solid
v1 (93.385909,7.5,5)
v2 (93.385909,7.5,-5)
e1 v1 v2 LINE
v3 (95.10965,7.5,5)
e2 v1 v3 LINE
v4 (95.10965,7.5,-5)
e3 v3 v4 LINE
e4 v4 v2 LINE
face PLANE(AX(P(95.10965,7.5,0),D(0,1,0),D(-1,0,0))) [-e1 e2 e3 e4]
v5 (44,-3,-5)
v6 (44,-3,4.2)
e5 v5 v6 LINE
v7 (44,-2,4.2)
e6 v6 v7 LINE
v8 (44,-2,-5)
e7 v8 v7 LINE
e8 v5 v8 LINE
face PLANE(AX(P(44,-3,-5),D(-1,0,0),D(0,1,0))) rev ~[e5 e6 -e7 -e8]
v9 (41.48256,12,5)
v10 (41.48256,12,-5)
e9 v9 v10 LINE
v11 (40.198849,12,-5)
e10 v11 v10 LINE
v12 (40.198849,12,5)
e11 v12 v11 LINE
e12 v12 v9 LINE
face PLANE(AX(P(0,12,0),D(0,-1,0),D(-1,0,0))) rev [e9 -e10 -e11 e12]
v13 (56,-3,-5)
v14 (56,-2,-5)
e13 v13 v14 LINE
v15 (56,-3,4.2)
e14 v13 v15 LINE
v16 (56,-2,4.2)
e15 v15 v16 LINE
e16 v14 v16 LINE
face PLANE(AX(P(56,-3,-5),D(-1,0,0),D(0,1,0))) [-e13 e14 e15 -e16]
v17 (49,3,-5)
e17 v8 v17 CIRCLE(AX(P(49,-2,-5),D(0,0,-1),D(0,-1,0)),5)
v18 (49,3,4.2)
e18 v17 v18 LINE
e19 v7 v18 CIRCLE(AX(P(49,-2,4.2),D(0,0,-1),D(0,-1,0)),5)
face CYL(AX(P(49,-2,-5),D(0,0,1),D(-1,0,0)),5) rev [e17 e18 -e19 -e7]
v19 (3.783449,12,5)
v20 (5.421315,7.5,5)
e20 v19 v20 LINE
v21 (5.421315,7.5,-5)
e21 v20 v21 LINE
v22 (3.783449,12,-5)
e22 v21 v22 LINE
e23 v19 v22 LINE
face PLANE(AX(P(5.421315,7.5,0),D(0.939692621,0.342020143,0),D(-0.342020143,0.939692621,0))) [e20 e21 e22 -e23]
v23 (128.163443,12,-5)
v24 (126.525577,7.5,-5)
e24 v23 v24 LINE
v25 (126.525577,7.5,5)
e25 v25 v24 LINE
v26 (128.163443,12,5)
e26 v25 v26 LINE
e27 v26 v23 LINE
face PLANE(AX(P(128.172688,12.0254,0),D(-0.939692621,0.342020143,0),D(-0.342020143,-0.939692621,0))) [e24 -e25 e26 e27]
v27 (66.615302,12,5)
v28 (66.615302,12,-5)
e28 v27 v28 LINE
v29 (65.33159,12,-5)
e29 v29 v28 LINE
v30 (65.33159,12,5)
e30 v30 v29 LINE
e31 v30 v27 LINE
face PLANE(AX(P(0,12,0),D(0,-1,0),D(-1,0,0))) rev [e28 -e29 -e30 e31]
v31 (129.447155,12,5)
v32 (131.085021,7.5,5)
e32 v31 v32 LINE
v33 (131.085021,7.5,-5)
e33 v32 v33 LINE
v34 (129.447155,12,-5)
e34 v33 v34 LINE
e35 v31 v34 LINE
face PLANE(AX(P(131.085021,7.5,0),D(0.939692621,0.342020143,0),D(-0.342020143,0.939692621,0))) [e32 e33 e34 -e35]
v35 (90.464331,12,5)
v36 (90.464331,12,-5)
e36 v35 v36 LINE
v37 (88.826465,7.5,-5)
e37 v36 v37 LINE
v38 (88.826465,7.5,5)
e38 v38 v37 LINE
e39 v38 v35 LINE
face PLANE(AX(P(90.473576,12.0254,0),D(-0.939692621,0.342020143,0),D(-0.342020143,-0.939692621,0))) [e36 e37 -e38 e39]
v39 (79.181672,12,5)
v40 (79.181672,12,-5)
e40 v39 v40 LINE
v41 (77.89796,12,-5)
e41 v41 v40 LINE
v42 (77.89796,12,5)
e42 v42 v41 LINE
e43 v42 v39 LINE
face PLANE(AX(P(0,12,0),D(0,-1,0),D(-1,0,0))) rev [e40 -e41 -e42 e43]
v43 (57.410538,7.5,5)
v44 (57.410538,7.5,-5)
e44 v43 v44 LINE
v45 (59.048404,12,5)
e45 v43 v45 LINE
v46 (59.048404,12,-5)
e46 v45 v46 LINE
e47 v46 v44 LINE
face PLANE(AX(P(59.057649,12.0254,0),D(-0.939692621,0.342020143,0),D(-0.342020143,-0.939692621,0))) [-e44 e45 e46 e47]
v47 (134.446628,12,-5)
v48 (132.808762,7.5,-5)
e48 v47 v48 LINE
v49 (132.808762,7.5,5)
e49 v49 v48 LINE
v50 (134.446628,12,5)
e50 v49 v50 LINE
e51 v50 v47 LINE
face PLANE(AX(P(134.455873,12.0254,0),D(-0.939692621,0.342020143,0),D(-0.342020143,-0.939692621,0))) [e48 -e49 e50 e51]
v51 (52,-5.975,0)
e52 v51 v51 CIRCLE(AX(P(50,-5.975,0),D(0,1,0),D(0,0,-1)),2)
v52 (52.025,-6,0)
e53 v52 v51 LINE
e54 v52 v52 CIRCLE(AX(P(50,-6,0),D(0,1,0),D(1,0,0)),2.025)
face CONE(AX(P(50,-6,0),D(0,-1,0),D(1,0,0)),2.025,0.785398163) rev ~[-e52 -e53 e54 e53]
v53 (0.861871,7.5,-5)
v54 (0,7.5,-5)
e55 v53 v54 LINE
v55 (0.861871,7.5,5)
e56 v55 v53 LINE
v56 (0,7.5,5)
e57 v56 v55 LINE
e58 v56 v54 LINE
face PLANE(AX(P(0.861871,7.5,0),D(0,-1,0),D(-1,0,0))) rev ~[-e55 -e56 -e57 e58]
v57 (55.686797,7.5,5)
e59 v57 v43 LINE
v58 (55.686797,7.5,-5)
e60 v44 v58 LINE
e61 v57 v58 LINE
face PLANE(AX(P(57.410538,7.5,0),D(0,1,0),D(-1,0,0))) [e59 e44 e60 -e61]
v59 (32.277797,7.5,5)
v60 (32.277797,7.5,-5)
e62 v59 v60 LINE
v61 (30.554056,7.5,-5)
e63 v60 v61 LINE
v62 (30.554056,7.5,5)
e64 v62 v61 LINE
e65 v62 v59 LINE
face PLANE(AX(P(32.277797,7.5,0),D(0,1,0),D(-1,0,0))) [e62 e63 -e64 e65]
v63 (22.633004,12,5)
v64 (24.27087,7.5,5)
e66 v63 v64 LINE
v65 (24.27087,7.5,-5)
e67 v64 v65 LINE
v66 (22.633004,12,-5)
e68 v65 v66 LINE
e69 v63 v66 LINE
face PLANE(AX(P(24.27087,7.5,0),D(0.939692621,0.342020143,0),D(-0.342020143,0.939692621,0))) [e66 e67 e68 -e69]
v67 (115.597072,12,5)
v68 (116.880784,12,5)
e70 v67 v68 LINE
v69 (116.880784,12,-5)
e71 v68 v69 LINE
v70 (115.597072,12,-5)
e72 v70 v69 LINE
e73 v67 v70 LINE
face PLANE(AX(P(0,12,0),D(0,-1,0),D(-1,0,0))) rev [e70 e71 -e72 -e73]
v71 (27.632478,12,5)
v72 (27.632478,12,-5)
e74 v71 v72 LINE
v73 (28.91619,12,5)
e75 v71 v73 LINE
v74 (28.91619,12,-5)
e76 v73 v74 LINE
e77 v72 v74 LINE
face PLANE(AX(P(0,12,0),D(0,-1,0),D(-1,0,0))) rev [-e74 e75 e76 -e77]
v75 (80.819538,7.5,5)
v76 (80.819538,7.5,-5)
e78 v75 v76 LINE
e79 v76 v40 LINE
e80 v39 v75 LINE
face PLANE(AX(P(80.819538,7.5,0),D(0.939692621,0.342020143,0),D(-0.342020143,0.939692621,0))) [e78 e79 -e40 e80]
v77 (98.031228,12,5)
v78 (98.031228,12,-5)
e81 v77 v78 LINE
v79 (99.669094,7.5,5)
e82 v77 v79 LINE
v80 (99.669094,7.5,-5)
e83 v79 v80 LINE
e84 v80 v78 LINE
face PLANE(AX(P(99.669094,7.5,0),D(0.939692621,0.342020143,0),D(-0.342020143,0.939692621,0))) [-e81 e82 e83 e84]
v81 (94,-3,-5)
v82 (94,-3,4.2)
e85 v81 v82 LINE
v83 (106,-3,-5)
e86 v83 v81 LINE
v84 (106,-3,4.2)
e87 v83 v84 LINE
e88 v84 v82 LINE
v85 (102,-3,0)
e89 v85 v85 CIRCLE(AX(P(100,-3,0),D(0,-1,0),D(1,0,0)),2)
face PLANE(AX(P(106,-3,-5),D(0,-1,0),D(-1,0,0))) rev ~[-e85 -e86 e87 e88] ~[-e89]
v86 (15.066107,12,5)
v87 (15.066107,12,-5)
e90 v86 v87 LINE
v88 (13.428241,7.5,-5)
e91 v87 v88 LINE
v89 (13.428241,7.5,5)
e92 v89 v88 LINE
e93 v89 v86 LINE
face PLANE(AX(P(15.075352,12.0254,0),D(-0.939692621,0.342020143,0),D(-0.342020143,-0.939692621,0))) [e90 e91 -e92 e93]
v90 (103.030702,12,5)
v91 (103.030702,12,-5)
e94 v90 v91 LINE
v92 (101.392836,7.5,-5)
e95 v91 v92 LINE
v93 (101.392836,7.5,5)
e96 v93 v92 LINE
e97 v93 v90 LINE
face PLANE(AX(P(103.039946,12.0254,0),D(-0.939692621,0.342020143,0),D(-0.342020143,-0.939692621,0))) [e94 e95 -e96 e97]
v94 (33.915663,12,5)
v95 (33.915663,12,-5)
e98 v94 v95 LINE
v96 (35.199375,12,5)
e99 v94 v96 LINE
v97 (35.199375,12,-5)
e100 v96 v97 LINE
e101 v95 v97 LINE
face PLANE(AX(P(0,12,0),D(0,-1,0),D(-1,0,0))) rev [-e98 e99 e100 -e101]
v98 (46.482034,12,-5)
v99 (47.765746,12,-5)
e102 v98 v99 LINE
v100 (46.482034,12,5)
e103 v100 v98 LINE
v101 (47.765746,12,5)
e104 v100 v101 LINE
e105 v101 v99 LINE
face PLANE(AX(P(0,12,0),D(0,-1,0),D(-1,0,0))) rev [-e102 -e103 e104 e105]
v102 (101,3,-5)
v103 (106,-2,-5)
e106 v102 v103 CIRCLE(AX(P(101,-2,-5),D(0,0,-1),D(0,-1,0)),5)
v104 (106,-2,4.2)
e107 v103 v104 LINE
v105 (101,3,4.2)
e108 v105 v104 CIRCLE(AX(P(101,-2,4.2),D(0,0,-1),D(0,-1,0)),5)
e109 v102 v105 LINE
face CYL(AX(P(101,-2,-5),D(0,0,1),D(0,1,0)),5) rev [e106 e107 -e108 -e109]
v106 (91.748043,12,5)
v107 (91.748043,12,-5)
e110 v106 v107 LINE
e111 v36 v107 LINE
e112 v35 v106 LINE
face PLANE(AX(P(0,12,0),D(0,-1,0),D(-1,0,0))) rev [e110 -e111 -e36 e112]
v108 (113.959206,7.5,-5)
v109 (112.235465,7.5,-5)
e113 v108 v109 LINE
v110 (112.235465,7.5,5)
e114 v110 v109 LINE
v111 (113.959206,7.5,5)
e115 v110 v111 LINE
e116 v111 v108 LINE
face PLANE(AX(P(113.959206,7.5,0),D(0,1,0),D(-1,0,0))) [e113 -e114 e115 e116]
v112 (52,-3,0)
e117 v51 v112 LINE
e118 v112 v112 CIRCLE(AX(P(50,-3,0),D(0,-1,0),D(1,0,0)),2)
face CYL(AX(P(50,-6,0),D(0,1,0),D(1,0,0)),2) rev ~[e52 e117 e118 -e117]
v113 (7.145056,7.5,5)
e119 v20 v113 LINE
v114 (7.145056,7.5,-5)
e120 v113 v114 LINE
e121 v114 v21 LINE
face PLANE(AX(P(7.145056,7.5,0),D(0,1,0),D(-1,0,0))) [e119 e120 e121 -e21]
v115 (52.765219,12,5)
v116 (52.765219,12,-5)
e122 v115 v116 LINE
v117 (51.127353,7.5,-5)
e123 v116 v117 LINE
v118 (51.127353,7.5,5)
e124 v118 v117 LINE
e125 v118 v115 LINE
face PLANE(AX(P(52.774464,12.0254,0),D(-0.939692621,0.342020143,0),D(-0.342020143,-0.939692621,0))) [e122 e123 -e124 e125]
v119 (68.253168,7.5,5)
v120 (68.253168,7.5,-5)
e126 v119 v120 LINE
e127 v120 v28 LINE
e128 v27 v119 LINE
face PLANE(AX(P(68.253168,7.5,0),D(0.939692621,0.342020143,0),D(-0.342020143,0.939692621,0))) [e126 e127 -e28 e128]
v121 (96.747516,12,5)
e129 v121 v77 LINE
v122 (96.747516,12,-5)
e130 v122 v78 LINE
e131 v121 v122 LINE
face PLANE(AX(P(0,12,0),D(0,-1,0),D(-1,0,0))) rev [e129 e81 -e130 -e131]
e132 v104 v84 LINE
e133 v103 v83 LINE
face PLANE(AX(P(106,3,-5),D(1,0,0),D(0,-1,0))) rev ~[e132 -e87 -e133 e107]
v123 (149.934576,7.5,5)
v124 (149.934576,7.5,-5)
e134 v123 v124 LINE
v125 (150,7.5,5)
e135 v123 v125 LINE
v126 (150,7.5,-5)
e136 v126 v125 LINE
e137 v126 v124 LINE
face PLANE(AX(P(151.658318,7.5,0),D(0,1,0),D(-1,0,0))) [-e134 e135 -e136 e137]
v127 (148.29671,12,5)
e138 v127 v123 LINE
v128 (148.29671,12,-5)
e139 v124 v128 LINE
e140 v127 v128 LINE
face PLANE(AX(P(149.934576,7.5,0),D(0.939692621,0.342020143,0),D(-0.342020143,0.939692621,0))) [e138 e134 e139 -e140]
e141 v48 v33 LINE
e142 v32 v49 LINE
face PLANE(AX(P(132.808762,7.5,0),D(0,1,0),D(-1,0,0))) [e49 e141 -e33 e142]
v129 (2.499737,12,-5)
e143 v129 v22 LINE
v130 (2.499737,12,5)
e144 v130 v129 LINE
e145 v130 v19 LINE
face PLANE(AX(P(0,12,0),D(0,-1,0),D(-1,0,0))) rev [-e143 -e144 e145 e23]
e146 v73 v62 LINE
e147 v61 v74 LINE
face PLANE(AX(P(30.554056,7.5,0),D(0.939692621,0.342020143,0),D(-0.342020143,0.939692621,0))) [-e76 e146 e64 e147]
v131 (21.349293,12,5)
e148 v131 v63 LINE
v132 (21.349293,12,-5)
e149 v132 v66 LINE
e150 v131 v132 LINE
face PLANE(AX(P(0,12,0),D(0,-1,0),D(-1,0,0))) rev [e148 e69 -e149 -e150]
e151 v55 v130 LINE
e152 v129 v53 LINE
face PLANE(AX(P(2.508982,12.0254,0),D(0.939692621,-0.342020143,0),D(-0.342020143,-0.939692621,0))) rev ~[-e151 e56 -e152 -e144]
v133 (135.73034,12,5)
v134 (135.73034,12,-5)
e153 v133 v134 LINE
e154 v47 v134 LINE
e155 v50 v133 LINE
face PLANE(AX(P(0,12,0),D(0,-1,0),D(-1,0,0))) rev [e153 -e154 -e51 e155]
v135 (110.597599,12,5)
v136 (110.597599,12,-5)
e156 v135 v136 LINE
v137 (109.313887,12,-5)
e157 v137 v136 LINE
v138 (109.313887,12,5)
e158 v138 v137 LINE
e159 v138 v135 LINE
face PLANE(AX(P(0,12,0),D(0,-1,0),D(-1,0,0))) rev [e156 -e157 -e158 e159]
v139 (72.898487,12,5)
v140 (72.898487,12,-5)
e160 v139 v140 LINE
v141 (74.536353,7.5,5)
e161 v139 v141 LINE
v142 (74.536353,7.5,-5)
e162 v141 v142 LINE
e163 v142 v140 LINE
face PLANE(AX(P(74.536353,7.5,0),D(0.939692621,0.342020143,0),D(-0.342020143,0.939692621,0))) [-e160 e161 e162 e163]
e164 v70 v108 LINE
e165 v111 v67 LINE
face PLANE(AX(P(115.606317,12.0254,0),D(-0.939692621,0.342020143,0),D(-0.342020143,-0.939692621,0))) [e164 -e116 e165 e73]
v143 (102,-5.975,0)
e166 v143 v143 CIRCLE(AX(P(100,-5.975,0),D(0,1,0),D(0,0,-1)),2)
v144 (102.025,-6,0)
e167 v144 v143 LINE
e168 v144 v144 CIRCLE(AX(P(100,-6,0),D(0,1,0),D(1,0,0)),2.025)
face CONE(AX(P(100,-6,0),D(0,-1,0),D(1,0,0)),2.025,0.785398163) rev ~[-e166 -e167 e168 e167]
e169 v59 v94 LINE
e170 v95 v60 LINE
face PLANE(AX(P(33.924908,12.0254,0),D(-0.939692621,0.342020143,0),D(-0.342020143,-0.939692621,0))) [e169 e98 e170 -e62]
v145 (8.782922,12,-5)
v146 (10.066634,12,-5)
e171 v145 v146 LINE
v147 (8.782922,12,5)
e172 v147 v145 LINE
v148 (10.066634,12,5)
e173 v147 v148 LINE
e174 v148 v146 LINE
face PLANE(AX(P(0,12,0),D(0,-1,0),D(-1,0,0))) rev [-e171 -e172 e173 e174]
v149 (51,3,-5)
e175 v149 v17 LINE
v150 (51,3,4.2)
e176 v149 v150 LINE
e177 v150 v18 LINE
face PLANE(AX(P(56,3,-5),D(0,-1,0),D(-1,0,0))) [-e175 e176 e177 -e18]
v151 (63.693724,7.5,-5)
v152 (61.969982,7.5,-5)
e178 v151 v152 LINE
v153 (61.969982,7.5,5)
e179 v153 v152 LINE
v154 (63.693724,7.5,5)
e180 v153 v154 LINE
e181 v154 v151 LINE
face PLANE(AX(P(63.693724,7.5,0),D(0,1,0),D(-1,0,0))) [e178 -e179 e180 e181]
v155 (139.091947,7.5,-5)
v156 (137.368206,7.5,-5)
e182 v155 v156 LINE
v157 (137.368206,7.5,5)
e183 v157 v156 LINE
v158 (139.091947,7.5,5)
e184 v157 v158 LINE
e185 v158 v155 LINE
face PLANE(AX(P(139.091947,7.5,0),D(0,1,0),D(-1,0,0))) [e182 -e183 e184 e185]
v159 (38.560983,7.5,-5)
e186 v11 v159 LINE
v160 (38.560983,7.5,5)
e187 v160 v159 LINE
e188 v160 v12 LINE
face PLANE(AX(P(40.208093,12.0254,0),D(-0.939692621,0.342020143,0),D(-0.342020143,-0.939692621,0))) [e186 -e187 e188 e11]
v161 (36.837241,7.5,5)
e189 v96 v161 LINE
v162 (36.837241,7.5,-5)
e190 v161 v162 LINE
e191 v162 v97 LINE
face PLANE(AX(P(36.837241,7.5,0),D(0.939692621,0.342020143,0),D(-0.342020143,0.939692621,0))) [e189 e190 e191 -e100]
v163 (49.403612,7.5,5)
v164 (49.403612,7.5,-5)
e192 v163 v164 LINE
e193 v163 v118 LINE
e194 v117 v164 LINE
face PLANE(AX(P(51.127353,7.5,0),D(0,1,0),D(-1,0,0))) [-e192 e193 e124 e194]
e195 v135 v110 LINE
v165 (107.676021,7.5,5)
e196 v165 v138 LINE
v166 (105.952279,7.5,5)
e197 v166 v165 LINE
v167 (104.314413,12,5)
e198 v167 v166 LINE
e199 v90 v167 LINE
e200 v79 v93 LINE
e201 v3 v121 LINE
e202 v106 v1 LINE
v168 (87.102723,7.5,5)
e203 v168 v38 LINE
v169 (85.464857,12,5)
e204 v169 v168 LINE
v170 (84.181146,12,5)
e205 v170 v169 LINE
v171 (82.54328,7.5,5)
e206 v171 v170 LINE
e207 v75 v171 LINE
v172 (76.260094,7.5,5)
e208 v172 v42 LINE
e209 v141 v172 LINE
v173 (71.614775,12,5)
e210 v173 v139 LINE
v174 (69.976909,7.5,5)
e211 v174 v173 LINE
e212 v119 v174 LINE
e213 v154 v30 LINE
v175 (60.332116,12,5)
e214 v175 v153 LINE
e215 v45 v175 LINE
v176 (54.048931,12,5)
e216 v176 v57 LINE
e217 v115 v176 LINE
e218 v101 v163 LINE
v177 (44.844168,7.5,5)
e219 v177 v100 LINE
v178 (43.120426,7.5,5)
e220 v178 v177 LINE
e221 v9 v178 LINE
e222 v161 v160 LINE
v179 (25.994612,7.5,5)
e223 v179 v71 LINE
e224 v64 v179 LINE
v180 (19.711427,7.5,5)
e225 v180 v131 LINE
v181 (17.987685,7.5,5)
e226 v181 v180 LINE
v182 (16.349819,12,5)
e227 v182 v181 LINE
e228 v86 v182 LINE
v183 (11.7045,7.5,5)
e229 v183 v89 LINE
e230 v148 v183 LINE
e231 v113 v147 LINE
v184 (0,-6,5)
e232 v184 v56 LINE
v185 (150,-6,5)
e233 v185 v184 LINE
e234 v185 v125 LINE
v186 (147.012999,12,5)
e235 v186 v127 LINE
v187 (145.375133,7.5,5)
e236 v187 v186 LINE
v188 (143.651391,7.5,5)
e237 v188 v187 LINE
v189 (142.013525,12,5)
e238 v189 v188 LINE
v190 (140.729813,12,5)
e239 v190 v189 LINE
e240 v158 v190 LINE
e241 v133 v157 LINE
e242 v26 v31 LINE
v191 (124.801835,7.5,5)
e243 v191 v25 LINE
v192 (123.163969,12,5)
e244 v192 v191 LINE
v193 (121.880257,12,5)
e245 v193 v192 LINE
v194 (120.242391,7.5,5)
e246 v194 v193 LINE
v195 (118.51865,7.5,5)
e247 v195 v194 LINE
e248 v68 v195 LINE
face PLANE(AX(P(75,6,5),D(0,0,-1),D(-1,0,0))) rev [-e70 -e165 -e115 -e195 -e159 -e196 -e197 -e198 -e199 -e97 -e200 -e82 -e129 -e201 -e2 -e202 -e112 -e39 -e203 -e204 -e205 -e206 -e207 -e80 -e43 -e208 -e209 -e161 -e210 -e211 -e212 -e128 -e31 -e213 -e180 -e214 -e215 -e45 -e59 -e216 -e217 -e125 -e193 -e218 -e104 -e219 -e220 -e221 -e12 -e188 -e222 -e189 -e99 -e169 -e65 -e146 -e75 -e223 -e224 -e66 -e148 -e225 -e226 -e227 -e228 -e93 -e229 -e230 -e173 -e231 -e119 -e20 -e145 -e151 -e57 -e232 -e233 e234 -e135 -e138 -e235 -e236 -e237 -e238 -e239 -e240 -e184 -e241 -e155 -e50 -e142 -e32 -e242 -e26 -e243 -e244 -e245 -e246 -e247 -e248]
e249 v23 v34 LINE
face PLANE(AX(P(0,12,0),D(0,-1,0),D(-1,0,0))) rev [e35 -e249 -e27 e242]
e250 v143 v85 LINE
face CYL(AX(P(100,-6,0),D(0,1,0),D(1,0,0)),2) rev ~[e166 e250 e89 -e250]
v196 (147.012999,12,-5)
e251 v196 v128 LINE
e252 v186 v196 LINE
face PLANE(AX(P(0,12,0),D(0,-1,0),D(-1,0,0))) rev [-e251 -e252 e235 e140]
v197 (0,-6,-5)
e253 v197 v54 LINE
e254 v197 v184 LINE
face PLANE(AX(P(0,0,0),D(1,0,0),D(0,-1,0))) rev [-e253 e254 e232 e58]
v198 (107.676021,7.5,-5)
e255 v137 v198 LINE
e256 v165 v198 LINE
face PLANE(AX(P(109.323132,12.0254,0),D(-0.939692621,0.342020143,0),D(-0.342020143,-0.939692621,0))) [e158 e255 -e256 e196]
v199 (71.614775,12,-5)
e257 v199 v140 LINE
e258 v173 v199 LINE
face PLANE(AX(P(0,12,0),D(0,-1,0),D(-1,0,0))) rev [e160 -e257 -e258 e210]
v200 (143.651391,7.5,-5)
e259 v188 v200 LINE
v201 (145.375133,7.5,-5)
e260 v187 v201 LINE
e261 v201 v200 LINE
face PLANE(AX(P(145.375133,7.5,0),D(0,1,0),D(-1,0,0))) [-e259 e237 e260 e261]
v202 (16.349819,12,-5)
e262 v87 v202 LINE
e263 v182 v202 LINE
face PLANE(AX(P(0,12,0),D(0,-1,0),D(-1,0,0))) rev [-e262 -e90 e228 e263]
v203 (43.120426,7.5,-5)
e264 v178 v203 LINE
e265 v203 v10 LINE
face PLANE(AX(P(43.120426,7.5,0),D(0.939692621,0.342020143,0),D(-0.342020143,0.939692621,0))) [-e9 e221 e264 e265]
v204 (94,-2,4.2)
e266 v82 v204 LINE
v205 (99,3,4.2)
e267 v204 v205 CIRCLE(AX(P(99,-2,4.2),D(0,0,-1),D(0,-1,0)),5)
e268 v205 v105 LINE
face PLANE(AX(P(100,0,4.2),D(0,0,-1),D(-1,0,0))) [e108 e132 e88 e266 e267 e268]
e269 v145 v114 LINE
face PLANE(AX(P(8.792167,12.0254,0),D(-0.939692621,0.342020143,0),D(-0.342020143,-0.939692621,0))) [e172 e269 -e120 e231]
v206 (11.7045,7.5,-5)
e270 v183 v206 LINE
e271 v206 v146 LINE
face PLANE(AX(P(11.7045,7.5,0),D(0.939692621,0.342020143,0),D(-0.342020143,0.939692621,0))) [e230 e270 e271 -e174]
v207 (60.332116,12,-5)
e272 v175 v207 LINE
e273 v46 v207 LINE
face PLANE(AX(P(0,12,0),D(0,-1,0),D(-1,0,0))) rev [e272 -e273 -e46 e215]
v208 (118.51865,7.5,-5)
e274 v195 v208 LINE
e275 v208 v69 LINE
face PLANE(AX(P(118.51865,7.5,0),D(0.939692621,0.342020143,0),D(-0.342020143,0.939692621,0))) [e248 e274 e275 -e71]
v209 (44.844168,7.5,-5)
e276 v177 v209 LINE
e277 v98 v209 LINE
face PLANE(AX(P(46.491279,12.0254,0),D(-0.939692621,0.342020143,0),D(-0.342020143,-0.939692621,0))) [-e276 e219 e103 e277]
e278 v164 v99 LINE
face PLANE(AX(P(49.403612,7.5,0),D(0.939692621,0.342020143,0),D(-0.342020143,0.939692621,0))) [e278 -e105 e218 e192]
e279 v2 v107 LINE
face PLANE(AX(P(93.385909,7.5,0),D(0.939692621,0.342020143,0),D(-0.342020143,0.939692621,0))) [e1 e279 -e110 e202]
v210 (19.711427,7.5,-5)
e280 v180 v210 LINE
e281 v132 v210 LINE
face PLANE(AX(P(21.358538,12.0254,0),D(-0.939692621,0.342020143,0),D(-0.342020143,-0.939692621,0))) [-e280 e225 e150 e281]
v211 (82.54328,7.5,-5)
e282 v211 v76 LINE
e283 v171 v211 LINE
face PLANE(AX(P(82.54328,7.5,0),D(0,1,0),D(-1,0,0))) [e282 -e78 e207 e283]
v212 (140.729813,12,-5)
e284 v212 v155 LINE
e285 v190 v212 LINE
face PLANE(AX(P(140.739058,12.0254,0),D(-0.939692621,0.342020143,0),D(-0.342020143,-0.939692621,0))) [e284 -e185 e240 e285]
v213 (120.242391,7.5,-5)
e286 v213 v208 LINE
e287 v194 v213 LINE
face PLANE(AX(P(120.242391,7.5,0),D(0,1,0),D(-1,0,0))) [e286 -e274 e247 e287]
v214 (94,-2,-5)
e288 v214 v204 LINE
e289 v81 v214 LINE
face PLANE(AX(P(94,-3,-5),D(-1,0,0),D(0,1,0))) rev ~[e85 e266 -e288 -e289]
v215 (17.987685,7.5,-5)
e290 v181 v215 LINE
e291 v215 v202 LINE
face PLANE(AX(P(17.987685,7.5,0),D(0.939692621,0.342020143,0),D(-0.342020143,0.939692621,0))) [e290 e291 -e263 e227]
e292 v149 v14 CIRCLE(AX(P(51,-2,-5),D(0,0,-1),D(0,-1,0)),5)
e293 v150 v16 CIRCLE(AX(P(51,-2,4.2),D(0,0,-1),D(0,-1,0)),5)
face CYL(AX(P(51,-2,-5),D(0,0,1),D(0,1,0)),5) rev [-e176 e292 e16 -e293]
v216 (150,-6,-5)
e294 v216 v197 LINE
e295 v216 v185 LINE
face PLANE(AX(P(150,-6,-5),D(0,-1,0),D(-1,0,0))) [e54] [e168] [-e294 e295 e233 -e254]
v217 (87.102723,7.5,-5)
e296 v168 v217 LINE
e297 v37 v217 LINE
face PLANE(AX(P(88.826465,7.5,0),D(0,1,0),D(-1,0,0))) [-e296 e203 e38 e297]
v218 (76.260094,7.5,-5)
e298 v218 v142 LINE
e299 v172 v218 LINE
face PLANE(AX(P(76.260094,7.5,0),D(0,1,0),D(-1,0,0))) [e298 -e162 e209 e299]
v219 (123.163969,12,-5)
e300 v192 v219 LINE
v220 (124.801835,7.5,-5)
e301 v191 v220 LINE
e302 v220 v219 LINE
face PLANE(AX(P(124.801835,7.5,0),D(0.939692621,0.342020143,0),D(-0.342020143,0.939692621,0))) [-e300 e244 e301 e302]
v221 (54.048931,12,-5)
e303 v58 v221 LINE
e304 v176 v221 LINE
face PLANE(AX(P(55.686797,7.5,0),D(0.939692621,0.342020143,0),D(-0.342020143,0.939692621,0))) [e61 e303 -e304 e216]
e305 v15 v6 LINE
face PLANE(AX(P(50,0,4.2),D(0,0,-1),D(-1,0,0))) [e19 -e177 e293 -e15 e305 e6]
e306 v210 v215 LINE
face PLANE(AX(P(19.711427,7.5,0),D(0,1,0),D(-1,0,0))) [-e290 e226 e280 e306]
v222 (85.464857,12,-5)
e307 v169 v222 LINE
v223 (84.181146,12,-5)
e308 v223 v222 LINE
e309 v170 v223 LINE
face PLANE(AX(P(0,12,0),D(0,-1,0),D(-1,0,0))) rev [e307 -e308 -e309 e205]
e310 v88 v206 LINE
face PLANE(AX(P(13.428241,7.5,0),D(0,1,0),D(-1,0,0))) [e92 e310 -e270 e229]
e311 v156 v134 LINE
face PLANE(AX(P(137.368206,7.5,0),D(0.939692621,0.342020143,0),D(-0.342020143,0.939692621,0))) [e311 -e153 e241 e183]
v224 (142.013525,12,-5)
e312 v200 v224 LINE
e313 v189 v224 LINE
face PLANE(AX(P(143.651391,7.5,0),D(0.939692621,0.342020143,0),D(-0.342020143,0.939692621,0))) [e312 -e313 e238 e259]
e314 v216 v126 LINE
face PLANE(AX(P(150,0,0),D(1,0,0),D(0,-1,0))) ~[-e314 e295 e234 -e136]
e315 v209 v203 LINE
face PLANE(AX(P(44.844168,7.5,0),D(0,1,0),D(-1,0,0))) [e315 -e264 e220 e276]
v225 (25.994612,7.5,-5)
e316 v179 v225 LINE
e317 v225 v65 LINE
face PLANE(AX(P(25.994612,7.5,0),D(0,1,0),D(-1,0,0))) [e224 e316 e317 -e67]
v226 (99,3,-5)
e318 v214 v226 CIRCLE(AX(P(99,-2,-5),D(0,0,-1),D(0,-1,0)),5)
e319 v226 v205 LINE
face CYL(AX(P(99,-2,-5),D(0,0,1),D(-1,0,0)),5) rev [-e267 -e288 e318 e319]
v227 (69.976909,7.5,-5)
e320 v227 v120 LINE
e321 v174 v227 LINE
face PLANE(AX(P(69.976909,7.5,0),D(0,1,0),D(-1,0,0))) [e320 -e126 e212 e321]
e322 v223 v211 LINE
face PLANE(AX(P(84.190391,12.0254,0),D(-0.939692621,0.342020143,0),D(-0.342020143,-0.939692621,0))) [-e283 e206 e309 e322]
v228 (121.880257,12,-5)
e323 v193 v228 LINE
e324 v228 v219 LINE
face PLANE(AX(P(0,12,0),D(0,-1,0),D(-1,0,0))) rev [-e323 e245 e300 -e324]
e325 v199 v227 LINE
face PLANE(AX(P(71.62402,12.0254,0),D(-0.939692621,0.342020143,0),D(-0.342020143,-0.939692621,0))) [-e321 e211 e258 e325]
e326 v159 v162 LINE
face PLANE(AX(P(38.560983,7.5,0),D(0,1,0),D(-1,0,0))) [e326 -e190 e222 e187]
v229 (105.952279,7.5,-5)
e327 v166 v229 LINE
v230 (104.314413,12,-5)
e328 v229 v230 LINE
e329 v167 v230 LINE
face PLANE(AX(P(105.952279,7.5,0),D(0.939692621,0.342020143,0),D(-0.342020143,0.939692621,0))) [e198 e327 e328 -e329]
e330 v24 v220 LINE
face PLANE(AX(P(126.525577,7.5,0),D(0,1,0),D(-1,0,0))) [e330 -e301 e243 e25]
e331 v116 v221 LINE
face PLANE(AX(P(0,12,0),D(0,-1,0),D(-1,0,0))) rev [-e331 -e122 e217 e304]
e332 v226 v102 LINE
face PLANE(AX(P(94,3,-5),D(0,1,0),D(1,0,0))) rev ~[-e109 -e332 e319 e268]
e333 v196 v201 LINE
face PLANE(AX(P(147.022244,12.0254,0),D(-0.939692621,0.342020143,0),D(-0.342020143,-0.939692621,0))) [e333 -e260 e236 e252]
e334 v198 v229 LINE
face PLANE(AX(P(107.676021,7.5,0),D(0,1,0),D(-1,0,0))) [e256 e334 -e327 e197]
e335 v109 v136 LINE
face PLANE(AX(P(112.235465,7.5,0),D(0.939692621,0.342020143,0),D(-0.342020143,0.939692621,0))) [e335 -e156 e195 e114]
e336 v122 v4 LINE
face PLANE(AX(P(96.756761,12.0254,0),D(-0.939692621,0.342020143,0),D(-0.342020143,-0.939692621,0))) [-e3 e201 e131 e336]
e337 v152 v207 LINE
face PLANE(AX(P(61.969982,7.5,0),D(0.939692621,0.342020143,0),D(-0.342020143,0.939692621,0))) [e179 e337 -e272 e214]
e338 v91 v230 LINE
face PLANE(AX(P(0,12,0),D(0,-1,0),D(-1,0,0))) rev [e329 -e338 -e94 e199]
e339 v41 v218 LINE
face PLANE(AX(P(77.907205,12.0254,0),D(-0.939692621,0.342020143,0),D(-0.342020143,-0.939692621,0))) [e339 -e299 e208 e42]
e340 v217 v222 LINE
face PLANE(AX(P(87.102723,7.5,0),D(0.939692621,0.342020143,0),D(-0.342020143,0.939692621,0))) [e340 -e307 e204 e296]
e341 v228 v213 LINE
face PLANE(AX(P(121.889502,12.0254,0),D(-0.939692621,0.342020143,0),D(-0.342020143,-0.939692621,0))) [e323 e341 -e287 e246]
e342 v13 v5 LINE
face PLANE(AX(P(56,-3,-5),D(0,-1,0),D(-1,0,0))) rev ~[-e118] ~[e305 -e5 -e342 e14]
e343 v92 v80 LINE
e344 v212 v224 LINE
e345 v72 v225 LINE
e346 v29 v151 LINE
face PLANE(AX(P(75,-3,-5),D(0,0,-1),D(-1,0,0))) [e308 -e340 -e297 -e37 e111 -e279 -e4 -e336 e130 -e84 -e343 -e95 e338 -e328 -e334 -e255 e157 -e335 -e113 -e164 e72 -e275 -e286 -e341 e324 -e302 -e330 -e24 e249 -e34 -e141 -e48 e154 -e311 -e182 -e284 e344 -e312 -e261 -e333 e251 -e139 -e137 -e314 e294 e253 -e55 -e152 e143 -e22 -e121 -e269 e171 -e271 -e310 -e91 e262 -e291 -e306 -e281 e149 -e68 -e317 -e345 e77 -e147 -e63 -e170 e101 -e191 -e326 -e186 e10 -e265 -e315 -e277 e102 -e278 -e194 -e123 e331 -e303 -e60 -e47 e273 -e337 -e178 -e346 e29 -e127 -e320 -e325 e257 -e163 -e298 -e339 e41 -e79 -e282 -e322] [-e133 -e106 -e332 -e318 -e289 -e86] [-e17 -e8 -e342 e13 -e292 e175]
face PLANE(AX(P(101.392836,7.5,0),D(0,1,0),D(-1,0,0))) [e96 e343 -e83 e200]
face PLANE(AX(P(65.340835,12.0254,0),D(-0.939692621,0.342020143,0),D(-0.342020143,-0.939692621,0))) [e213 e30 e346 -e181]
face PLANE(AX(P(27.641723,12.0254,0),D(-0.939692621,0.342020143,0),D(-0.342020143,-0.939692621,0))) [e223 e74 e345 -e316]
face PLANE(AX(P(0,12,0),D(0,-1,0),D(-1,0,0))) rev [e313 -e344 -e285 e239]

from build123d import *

# Parameters (mm, degrees)
BLANKSKE_W                      = 150
BLANKSKE_H                      = 12
BLANK_DEPTH                     = 5
TOOTHCUTSIM_DEPTH               = 151.562279473
TEETHCUTS_COUNT                 = 25
TEETHCUTS_PITCH                 = 6.2831853
SKETCH1_W                       = 150
SKETCH1_H                       = 6
BOSS_EXTRUDE1_DEPTH             = 10
MIRROR1_COPY_1_DEPTH            = 151.562279473
MIRROR1_COPY_2_DEPTH            = 151.562279473
MIRROR1_COPY_3_DEPTH            = 151.562279473
MIRROR1_COPY_4_DEPTH            = 151.562279473
MIRROR1_COPY_5_DEPTH            = 151.562279473
MIRROR1_COPY_6_DEPTH            = 151.562279473
MIRROR1_COPY_7_DEPTH            = 151.562279473
MIRROR1_COPY_8_DEPTH            = 151.562279473
MIRROR1_COPY_9_DEPTH            = 151.562279473
MIRROR1_COPY_10_DEPTH           = 151.562279473
MIRROR1_COPY_11_DEPTH           = 151.562279473
MIRROR1_COPY_12_DEPTH           = 151.562279473
MIRROR1_COPY_13_DEPTH           = 151.562279473
MIRROR1_COPY_14_DEPTH           = 151.562279473
MIRROR1_COPY_15_DEPTH           = 151.562279473
MIRROR1_COPY_16_DEPTH           = 151.562279473
MIRROR1_COPY_17_DEPTH           = 151.562279473
MIRROR1_COPY_18_DEPTH           = 151.562279473
MIRROR1_COPY_19_DEPTH           = 151.562279473
MIRROR1_COPY_20_DEPTH           = 151.562279473
MIRROR1_COPY_21_DEPTH           = 151.562279473
MIRROR1_COPY_22_DEPTH           = 151.562279473
MIRROR1_COPY_23_DEPTH           = 151.562279473
MIRROR1_COPY_24_DEPTH           = 151.562279473
MIRROR1_COPY_25_DEPTH           = 151.562279473
F_4_0MM_DOWEL_HOLE1_D           = 4
F_4_0MM_DOWEL_HOLE1_DEPTH       = 3
F_4_0MM_DOWEL_HOLE1_CSINK_D     = 4.05
F_4_0MM_DOWEL_HOLE1_CSINK_ANGLE = 90
F_4_0MM_DOWEL_HOLE1_TIP         = 1.201721238
SKETCH7_W                       = 12
SKETCH7_H                       = 6
CUT_EXTRUDE1_DEPTH              = 9.2
FILLET2_R                       = 5
FILLET3_R                       = 5


with BuildPart() as part:
    # BlankSke → Blank (new body)
    with BuildSketch(Plane.XY):
        with Locations((75, 6)):
            Rectangle(BLANKSKE_W, BLANKSKE_H)
    blank = extrude(amount=-BLANK_DEPTH)

    # TooCutSkeSim → ToothCutSim (cut, through all)
    with BuildSketch(Plane.XY):
        Polygon((0.861870739, 7.5), (-0.861870739, 7.5), (-2.508981637, 12.0254), (2.508981637, 12.0254), align=None)
    toothcutsim = extrude(amount=-TOOTHCUTSIM_DEPTH, mode=Mode.SUBTRACT)

    # TeethCuts: ToothCutSim ×25
    with Locations(*[(i * TEETHCUTS_PITCH, 0, 0) for i in range(1, TEETHCUTS_COUNT)]):
        add(toothcutsim, mode=Mode.SUBTRACT)

    # Sketch1 → Boss-Extrude1 (add)
    with BuildSketch(Plane(origin=(0, 0, -5), x_dir=(-1, 0, 0), z_dir=(0, 0, -1))):
        with Locations((-75, -3)):
            Rectangle(SKETCH1_W, SKETCH1_H)
    extrude(amount=-BOSS_EXTRUDE1_DEPTH)

    # Mirror1: Blank across plane
    add(blank.mirror(Plane.XY))

    # Mirror1 copy 1 sketch → Mirror1 copy 1 (cut, through all)
    with BuildSketch(Plane(origin=(6.2831853, 0, 0), x_dir=(1, 0, 0), z_dir=(0, 0, -1))):
        Polygon((0.861870739, -7.5), (-0.861870739, -7.5), (-2.508981637, -12.0254), (2.508981637, -12.0254), align=None)
    extrude(amount=-MIRROR1_COPY_1_DEPTH, mode=Mode.SUBTRACT)

    # Mirror1 copy 2 sketch → Mirror1 copy 2 (cut, through all)
    with BuildSketch(Plane(origin=(12.5663706, 0, 0), x_dir=(1, 0, 0), z_dir=(0, 0, -1))):
        Polygon((0.861870739, -7.5), (-0.861870739, -7.5), (-2.508981637, -12.0254), (2.508981637, -12.0254), align=None)
    extrude(amount=-MIRROR1_COPY_2_DEPTH, mode=Mode.SUBTRACT)

    # Mirror1 copy 3 sketch → Mirror1 copy 3 (cut, through all)
    with BuildSketch(Plane(origin=(18.8495559, 0, 0), x_dir=(1, 0, 0), z_dir=(0, 0, -1))):
        Polygon((0.861870739, -7.5), (-0.861870739, -7.5), (-2.508981637, -12.0254), (2.508981637, -12.0254), align=None)
    extrude(amount=-MIRROR1_COPY_3_DEPTH, mode=Mode.SUBTRACT)

    # Mirror1 copy 4 sketch → Mirror1 copy 4 (cut, through all)
    with BuildSketch(Plane(origin=(25.1327412, 0, 0), x_dir=(1, 0, 0), z_dir=(0, 0, -1))):
        Polygon((0.861870739, -7.5), (-0.861870739, -7.5), (-2.508981637, -12.0254), (2.508981637, -12.0254), align=None)
    extrude(amount=-MIRROR1_COPY_4_DEPTH, mode=Mode.SUBTRACT)

    # Mirror1 copy 5 sketch → Mirror1 copy 5 (cut, through all)
    with BuildSketch(Plane(origin=(31.4159265, 0, 0), x_dir=(1, 0, 0), z_dir=(0, 0, -1))):
        Polygon((0.861870739, -7.5), (-0.861870739, -7.5), (-2.508981637, -12.0254), (2.508981637, -12.0254), align=None)
    extrude(amount=-MIRROR1_COPY_5_DEPTH, mode=Mode.SUBTRACT)

    # Mirror1 copy 6 sketch → Mirror1 copy 6 (cut, through all)
    with BuildSketch(Plane(origin=(37.6991118, 0, 0), x_dir=(1, 0, 0), z_dir=(0, 0, -1))):
        Polygon((0.861870739, -7.5), (-0.861870739, -7.5), (-2.508981637, -12.0254), (2.508981637, -12.0254), align=None)
    extrude(amount=-MIRROR1_COPY_6_DEPTH, mode=Mode.SUBTRACT)

    # Mirror1 copy 7 sketch → Mirror1 copy 7 (cut, through all)
    with BuildSketch(Plane(origin=(43.9822971, 0, 0), x_dir=(1, 0, 0), z_dir=(0, 0, -1))):
        Polygon((0.861870739, -7.5), (-0.861870739, -7.5), (-2.508981637, -12.0254), (2.508981637, -12.0254), align=None)
    extrude(amount=-MIRROR1_COPY_7_DEPTH, mode=Mode.SUBTRACT)

    # Mirror1 copy 8 sketch → Mirror1 copy 8 (cut, through all)
    with BuildSketch(Plane(origin=(50.2654824, 0, 0), x_dir=(1, 0, 0), z_dir=(0, 0, -1))):
        Polygon((0.861870739, -7.5), (-0.861870739, -7.5), (-2.508981637, -12.0254), (2.508981637, -12.0254), align=None)
    extrude(amount=-MIRROR1_COPY_8_DEPTH, mode=Mode.SUBTRACT)

    # Mirror1 copy 9 sketch → Mirror1 copy 9 (cut, through all)
    with BuildSketch(Plane(origin=(56.5486677, 0, 0), x_dir=(1, 0, 0), z_dir=(0, 0, -1))):
        Polygon((0.861870739, -7.5), (-0.861870739, -7.5), (-2.508981637, -12.0254), (2.508981637, -12.0254), align=None)
    extrude(amount=-MIRROR1_COPY_9_DEPTH, mode=Mode.SUBTRACT)

    # Mirror1 copy 10 sketch → Mirror1 copy 10 (cut, through all)
    with BuildSketch(Plane(origin=(62.831853, 0, 0), x_dir=(1, 0, 0), z_dir=(0, 0, -1))):
        Polygon((0.861870739, -7.5), (-0.861870739, -7.5), (-2.508981637, -12.0254), (2.508981637, -12.0254), align=None)
    extrude(amount=-MIRROR1_COPY_10_DEPTH, mode=Mode.SUBTRACT)

    # Mirror1 copy 11 sketch → Mirror1 copy 11 (cut, through all)
    with BuildSketch(Plane(origin=(69.1150383, 0, 0), x_dir=(1, 0, 0), z_dir=(0, 0, -1))):
        Polygon((0.861870739, -7.5), (-0.861870739, -7.5), (-2.508981637, -12.0254), (2.508981637, -12.0254), align=None)
    extrude(amount=-MIRROR1_COPY_11_DEPTH, mode=Mode.SUBTRACT)

    # Mirror1 copy 12 sketch → Mirror1 copy 12 (cut, through all)
    with BuildSketch(Plane(origin=(75.3982236, 0, 0), x_dir=(1, 0, 0), z_dir=(0, 0, -1))):
        Polygon((0.861870739, -7.5), (-0.861870739, -7.5), (-2.508981637, -12.0254), (2.508981637, -12.0254), align=None)
    extrude(amount=-MIRROR1_COPY_12_DEPTH, mode=Mode.SUBTRACT)

    # Mirror1 copy 13 sketch → Mirror1 copy 13 (cut, through all)
    with BuildSketch(Plane(origin=(81.6814089, 0, 0), x_dir=(1, 0, 0), z_dir=(0, 0, -1))):
        Polygon((0.861870739, -7.5), (-0.861870739, -7.5), (-2.508981637, -12.0254), (2.508981637, -12.0254), align=None)
    extrude(amount=-MIRROR1_COPY_13_DEPTH, mode=Mode.SUBTRACT)

    # Mirror1 copy 14 sketch → Mirror1 copy 14 (cut, through all)
    with BuildSketch(Plane(origin=(87.9645942, 0, 0), x_dir=(1, 0, 0), z_dir=(0, 0, -1))):
        Polygon((0.861870739, -7.5), (-0.861870739, -7.5), (-2.508981637, -12.0254), (2.508981637, -12.0254), align=None)
    extrude(amount=-MIRROR1_COPY_14_DEPTH, mode=Mode.SUBTRACT)

    # Mirror1 copy 15 sketch → Mirror1 copy 15 (cut, through all)
    with BuildSketch(Plane(origin=(94.2477795, 0, 0), x_dir=(1, 0, 0), z_dir=(0, 0, -1))):
        Polygon((0.861870739, -7.5), (-0.861870739, -7.5), (-2.508981637, -12.0254), (2.508981637, -12.0254), align=None)
    extrude(amount=-MIRROR1_COPY_15_DEPTH, mode=Mode.SUBTRACT)

    # Mirror1 copy 16 sketch → Mirror1 copy 16 (cut, through all)
    with BuildSketch(Plane(origin=(100.5309648, 0, 0), x_dir=(1, 0, 0), z_dir=(0, 0, -1))):
        Polygon((0.861870739, -7.5), (-0.861870739, -7.5), (-2.508981637, -12.0254), (2.508981637, -12.0254), align=None)
    extrude(amount=-MIRROR1_COPY_16_DEPTH, mode=Mode.SUBTRACT)

    # Mirror1 copy 17 sketch → Mirror1 copy 17 (cut, through all)
    with BuildSketch(Plane(origin=(106.8141501, 0, 0), x_dir=(1, 0, 0), z_dir=(0, 0, -1))):
        Polygon((0.861870739, -7.5), (-0.861870739, -7.5), (-2.508981637, -12.0254), (2.508981637, -12.0254), align=None)
    extrude(amount=-MIRROR1_COPY_17_DEPTH, mode=Mode.SUBTRACT)

    # Mirror1 copy 18 sketch → Mirror1 copy 18 (cut, through all)
    with BuildSketch(Plane(origin=(113.0973354, 0, 0), x_dir=(1, 0, 0), z_dir=(0, 0, -1))):
        Polygon((0.861870739, -7.5), (-0.861870739, -7.5), (-2.508981637, -12.0254), (2.508981637, -12.0254), align=None)
    extrude(amount=-MIRROR1_COPY_18_DEPTH, mode=Mode.SUBTRACT)

    # Mirror1 copy 19 sketch → Mirror1 copy 19 (cut, through all)
    with BuildSketch(Plane(origin=(119.3805207, 0, 0), x_dir=(1, 0, 0), z_dir=(0, 0, -1))):
        Polygon((0.861870739, -7.5), (-0.861870739, -7.5), (-2.508981637, -12.0254), (2.508981637, -12.0254), align=None)
    extrude(amount=-MIRROR1_COPY_19_DEPTH, mode=Mode.SUBTRACT)

    # Mirror1 copy 20 sketch → Mirror1 copy 20 (cut, through all)
    with BuildSketch(Plane(origin=(125.663706, 0, 0), x_dir=(1, 0, 0), z_dir=(0, 0, -1))):
        Polygon((0.861870739, -7.5), (-0.861870739, -7.5), (-2.508981637, -12.0254), (2.508981637, -12.0254), align=None)
    extrude(amount=-MIRROR1_COPY_20_DEPTH, mode=Mode.SUBTRACT)

    # Mirror1 copy 21 sketch → Mirror1 copy 21 (cut, through all)
    with BuildSketch(Plane(origin=(131.9468913, 0, 0), x_dir=(1, 0, 0), z_dir=(0, 0, -1))):
        Polygon((0.861870739, -7.5), (-0.861870739, -7.5), (-2.508981637, -12.0254), (2.508981637, -12.0254), align=None)
    extrude(amount=-MIRROR1_COPY_21_DEPTH, mode=Mode.SUBTRACT)

    # Mirror1 copy 22 sketch → Mirror1 copy 22 (cut, through all)
    with BuildSketch(Plane(origin=(138.2300766, 0, 0), x_dir=(1, 0, 0), z_dir=(0, 0, -1))):
        Polygon((0.861870739, -7.5), (-0.861870739, -7.5), (-2.508981637, -12.0254), (2.508981637, -12.0254), align=None)
    extrude(amount=-MIRROR1_COPY_22_DEPTH, mode=Mode.SUBTRACT)

    # Mirror1 copy 23 sketch → Mirror1 copy 23 (cut, through all)
    with BuildSketch(Plane(origin=(144.5132619, 0, 0), x_dir=(1, 0, 0), z_dir=(0, 0, -1))):
        Polygon((0.861870739, -7.5), (-0.861870739, -7.5), (-2.508981637, -12.0254), (2.508981637, -12.0254), align=None)
    extrude(amount=-MIRROR1_COPY_23_DEPTH, mode=Mode.SUBTRACT)

    # Mirror1 copy 24 sketch → Mirror1 copy 24 (cut, through all)
    with BuildSketch(Plane(origin=(150.7964472, 0, 0), x_dir=(1, 0, 0), z_dir=(0, 0, -1))):
        Polygon((0.861870739, -7.5), (-0.861870739, -7.5), (-2.508981637, -12.0254), (2.508981637, -12.0254), align=None)
    extrude(amount=-MIRROR1_COPY_24_DEPTH, mode=Mode.SUBTRACT)

    # Mirror1 copy 25 sketch → Mirror1 copy 25 (cut, through all)
    with BuildSketch(Plane(origin=(0, 0, 0), x_dir=(1, 0, 0), z_dir=(0, 0, -1))):
        Polygon((0.861870739, -7.5), (-0.861870739, -7.5), (-2.508981637, -12.0254), (2.508981637, -12.0254), align=None)
    extrude(amount=-MIRROR1_COPY_25_DEPTH, mode=Mode.SUBTRACT)

    # Ø4.0mm Dowel Hole1
    with Locations(Plane(origin=(0, -6, 0), x_dir=(-1, 0, 0), z_dir=(0, -1, 0))):
        with Locations((-50, 0), (-100, 0)):
            CounterSinkHole(F_4_0MM_DOWEL_HOLE1_D / 2, F_4_0MM_DOWEL_HOLE1_CSINK_D / 2, depth=F_4_0MM_DOWEL_HOLE1_DEPTH, counter_sink_angle=F_4_0MM_DOWEL_HOLE1_CSINK_ANGLE)
            with Locations((0, 0, -(F_4_0MM_DOWEL_HOLE1_DEPTH + F_4_0MM_DOWEL_HOLE1_TIP / 2))):  # 118° drill point
                Cone(0, F_4_0MM_DOWEL_HOLE1_D / 2, F_4_0MM_DOWEL_HOLE1_TIP, mode=Mode.SUBTRACT)

    # Sketch7 → Cut-Extrude1 (cut)
    with BuildSketch(Plane(origin=(0, 0, -5), x_dir=(-1, 0, 0), z_dir=(0, 0, -1))):
        Polygon((-106, -3), (-100, -3), (-94, -3), (-94, 3), (-106, 3), align=None)
        with Locations((-50, 0)):
            Rectangle(SKETCH7_W, SKETCH7_H)
    extrude(amount=-CUT_EXTRUDE1_DEPTH, mode=Mode.SUBTRACT)

    # Fillet2
    fillet2_edges = [part.edges().sort_by_distance(p)[0] for p in [
        (106, 3, -0.4),
        (94, 3, -0.4),
    ]]
    fillet(fillet2_edges, radius=FILLET2_R)

    # Fillet3
    fillet3_edges = [part.edges().sort_by_distance(p)[0] for p in [
        (56, 3, -0.4),
        (44, 3, -0.4),
    ]]
    fillet(fillet3_edges, radius=FILLET3_R)


solid = part.part
